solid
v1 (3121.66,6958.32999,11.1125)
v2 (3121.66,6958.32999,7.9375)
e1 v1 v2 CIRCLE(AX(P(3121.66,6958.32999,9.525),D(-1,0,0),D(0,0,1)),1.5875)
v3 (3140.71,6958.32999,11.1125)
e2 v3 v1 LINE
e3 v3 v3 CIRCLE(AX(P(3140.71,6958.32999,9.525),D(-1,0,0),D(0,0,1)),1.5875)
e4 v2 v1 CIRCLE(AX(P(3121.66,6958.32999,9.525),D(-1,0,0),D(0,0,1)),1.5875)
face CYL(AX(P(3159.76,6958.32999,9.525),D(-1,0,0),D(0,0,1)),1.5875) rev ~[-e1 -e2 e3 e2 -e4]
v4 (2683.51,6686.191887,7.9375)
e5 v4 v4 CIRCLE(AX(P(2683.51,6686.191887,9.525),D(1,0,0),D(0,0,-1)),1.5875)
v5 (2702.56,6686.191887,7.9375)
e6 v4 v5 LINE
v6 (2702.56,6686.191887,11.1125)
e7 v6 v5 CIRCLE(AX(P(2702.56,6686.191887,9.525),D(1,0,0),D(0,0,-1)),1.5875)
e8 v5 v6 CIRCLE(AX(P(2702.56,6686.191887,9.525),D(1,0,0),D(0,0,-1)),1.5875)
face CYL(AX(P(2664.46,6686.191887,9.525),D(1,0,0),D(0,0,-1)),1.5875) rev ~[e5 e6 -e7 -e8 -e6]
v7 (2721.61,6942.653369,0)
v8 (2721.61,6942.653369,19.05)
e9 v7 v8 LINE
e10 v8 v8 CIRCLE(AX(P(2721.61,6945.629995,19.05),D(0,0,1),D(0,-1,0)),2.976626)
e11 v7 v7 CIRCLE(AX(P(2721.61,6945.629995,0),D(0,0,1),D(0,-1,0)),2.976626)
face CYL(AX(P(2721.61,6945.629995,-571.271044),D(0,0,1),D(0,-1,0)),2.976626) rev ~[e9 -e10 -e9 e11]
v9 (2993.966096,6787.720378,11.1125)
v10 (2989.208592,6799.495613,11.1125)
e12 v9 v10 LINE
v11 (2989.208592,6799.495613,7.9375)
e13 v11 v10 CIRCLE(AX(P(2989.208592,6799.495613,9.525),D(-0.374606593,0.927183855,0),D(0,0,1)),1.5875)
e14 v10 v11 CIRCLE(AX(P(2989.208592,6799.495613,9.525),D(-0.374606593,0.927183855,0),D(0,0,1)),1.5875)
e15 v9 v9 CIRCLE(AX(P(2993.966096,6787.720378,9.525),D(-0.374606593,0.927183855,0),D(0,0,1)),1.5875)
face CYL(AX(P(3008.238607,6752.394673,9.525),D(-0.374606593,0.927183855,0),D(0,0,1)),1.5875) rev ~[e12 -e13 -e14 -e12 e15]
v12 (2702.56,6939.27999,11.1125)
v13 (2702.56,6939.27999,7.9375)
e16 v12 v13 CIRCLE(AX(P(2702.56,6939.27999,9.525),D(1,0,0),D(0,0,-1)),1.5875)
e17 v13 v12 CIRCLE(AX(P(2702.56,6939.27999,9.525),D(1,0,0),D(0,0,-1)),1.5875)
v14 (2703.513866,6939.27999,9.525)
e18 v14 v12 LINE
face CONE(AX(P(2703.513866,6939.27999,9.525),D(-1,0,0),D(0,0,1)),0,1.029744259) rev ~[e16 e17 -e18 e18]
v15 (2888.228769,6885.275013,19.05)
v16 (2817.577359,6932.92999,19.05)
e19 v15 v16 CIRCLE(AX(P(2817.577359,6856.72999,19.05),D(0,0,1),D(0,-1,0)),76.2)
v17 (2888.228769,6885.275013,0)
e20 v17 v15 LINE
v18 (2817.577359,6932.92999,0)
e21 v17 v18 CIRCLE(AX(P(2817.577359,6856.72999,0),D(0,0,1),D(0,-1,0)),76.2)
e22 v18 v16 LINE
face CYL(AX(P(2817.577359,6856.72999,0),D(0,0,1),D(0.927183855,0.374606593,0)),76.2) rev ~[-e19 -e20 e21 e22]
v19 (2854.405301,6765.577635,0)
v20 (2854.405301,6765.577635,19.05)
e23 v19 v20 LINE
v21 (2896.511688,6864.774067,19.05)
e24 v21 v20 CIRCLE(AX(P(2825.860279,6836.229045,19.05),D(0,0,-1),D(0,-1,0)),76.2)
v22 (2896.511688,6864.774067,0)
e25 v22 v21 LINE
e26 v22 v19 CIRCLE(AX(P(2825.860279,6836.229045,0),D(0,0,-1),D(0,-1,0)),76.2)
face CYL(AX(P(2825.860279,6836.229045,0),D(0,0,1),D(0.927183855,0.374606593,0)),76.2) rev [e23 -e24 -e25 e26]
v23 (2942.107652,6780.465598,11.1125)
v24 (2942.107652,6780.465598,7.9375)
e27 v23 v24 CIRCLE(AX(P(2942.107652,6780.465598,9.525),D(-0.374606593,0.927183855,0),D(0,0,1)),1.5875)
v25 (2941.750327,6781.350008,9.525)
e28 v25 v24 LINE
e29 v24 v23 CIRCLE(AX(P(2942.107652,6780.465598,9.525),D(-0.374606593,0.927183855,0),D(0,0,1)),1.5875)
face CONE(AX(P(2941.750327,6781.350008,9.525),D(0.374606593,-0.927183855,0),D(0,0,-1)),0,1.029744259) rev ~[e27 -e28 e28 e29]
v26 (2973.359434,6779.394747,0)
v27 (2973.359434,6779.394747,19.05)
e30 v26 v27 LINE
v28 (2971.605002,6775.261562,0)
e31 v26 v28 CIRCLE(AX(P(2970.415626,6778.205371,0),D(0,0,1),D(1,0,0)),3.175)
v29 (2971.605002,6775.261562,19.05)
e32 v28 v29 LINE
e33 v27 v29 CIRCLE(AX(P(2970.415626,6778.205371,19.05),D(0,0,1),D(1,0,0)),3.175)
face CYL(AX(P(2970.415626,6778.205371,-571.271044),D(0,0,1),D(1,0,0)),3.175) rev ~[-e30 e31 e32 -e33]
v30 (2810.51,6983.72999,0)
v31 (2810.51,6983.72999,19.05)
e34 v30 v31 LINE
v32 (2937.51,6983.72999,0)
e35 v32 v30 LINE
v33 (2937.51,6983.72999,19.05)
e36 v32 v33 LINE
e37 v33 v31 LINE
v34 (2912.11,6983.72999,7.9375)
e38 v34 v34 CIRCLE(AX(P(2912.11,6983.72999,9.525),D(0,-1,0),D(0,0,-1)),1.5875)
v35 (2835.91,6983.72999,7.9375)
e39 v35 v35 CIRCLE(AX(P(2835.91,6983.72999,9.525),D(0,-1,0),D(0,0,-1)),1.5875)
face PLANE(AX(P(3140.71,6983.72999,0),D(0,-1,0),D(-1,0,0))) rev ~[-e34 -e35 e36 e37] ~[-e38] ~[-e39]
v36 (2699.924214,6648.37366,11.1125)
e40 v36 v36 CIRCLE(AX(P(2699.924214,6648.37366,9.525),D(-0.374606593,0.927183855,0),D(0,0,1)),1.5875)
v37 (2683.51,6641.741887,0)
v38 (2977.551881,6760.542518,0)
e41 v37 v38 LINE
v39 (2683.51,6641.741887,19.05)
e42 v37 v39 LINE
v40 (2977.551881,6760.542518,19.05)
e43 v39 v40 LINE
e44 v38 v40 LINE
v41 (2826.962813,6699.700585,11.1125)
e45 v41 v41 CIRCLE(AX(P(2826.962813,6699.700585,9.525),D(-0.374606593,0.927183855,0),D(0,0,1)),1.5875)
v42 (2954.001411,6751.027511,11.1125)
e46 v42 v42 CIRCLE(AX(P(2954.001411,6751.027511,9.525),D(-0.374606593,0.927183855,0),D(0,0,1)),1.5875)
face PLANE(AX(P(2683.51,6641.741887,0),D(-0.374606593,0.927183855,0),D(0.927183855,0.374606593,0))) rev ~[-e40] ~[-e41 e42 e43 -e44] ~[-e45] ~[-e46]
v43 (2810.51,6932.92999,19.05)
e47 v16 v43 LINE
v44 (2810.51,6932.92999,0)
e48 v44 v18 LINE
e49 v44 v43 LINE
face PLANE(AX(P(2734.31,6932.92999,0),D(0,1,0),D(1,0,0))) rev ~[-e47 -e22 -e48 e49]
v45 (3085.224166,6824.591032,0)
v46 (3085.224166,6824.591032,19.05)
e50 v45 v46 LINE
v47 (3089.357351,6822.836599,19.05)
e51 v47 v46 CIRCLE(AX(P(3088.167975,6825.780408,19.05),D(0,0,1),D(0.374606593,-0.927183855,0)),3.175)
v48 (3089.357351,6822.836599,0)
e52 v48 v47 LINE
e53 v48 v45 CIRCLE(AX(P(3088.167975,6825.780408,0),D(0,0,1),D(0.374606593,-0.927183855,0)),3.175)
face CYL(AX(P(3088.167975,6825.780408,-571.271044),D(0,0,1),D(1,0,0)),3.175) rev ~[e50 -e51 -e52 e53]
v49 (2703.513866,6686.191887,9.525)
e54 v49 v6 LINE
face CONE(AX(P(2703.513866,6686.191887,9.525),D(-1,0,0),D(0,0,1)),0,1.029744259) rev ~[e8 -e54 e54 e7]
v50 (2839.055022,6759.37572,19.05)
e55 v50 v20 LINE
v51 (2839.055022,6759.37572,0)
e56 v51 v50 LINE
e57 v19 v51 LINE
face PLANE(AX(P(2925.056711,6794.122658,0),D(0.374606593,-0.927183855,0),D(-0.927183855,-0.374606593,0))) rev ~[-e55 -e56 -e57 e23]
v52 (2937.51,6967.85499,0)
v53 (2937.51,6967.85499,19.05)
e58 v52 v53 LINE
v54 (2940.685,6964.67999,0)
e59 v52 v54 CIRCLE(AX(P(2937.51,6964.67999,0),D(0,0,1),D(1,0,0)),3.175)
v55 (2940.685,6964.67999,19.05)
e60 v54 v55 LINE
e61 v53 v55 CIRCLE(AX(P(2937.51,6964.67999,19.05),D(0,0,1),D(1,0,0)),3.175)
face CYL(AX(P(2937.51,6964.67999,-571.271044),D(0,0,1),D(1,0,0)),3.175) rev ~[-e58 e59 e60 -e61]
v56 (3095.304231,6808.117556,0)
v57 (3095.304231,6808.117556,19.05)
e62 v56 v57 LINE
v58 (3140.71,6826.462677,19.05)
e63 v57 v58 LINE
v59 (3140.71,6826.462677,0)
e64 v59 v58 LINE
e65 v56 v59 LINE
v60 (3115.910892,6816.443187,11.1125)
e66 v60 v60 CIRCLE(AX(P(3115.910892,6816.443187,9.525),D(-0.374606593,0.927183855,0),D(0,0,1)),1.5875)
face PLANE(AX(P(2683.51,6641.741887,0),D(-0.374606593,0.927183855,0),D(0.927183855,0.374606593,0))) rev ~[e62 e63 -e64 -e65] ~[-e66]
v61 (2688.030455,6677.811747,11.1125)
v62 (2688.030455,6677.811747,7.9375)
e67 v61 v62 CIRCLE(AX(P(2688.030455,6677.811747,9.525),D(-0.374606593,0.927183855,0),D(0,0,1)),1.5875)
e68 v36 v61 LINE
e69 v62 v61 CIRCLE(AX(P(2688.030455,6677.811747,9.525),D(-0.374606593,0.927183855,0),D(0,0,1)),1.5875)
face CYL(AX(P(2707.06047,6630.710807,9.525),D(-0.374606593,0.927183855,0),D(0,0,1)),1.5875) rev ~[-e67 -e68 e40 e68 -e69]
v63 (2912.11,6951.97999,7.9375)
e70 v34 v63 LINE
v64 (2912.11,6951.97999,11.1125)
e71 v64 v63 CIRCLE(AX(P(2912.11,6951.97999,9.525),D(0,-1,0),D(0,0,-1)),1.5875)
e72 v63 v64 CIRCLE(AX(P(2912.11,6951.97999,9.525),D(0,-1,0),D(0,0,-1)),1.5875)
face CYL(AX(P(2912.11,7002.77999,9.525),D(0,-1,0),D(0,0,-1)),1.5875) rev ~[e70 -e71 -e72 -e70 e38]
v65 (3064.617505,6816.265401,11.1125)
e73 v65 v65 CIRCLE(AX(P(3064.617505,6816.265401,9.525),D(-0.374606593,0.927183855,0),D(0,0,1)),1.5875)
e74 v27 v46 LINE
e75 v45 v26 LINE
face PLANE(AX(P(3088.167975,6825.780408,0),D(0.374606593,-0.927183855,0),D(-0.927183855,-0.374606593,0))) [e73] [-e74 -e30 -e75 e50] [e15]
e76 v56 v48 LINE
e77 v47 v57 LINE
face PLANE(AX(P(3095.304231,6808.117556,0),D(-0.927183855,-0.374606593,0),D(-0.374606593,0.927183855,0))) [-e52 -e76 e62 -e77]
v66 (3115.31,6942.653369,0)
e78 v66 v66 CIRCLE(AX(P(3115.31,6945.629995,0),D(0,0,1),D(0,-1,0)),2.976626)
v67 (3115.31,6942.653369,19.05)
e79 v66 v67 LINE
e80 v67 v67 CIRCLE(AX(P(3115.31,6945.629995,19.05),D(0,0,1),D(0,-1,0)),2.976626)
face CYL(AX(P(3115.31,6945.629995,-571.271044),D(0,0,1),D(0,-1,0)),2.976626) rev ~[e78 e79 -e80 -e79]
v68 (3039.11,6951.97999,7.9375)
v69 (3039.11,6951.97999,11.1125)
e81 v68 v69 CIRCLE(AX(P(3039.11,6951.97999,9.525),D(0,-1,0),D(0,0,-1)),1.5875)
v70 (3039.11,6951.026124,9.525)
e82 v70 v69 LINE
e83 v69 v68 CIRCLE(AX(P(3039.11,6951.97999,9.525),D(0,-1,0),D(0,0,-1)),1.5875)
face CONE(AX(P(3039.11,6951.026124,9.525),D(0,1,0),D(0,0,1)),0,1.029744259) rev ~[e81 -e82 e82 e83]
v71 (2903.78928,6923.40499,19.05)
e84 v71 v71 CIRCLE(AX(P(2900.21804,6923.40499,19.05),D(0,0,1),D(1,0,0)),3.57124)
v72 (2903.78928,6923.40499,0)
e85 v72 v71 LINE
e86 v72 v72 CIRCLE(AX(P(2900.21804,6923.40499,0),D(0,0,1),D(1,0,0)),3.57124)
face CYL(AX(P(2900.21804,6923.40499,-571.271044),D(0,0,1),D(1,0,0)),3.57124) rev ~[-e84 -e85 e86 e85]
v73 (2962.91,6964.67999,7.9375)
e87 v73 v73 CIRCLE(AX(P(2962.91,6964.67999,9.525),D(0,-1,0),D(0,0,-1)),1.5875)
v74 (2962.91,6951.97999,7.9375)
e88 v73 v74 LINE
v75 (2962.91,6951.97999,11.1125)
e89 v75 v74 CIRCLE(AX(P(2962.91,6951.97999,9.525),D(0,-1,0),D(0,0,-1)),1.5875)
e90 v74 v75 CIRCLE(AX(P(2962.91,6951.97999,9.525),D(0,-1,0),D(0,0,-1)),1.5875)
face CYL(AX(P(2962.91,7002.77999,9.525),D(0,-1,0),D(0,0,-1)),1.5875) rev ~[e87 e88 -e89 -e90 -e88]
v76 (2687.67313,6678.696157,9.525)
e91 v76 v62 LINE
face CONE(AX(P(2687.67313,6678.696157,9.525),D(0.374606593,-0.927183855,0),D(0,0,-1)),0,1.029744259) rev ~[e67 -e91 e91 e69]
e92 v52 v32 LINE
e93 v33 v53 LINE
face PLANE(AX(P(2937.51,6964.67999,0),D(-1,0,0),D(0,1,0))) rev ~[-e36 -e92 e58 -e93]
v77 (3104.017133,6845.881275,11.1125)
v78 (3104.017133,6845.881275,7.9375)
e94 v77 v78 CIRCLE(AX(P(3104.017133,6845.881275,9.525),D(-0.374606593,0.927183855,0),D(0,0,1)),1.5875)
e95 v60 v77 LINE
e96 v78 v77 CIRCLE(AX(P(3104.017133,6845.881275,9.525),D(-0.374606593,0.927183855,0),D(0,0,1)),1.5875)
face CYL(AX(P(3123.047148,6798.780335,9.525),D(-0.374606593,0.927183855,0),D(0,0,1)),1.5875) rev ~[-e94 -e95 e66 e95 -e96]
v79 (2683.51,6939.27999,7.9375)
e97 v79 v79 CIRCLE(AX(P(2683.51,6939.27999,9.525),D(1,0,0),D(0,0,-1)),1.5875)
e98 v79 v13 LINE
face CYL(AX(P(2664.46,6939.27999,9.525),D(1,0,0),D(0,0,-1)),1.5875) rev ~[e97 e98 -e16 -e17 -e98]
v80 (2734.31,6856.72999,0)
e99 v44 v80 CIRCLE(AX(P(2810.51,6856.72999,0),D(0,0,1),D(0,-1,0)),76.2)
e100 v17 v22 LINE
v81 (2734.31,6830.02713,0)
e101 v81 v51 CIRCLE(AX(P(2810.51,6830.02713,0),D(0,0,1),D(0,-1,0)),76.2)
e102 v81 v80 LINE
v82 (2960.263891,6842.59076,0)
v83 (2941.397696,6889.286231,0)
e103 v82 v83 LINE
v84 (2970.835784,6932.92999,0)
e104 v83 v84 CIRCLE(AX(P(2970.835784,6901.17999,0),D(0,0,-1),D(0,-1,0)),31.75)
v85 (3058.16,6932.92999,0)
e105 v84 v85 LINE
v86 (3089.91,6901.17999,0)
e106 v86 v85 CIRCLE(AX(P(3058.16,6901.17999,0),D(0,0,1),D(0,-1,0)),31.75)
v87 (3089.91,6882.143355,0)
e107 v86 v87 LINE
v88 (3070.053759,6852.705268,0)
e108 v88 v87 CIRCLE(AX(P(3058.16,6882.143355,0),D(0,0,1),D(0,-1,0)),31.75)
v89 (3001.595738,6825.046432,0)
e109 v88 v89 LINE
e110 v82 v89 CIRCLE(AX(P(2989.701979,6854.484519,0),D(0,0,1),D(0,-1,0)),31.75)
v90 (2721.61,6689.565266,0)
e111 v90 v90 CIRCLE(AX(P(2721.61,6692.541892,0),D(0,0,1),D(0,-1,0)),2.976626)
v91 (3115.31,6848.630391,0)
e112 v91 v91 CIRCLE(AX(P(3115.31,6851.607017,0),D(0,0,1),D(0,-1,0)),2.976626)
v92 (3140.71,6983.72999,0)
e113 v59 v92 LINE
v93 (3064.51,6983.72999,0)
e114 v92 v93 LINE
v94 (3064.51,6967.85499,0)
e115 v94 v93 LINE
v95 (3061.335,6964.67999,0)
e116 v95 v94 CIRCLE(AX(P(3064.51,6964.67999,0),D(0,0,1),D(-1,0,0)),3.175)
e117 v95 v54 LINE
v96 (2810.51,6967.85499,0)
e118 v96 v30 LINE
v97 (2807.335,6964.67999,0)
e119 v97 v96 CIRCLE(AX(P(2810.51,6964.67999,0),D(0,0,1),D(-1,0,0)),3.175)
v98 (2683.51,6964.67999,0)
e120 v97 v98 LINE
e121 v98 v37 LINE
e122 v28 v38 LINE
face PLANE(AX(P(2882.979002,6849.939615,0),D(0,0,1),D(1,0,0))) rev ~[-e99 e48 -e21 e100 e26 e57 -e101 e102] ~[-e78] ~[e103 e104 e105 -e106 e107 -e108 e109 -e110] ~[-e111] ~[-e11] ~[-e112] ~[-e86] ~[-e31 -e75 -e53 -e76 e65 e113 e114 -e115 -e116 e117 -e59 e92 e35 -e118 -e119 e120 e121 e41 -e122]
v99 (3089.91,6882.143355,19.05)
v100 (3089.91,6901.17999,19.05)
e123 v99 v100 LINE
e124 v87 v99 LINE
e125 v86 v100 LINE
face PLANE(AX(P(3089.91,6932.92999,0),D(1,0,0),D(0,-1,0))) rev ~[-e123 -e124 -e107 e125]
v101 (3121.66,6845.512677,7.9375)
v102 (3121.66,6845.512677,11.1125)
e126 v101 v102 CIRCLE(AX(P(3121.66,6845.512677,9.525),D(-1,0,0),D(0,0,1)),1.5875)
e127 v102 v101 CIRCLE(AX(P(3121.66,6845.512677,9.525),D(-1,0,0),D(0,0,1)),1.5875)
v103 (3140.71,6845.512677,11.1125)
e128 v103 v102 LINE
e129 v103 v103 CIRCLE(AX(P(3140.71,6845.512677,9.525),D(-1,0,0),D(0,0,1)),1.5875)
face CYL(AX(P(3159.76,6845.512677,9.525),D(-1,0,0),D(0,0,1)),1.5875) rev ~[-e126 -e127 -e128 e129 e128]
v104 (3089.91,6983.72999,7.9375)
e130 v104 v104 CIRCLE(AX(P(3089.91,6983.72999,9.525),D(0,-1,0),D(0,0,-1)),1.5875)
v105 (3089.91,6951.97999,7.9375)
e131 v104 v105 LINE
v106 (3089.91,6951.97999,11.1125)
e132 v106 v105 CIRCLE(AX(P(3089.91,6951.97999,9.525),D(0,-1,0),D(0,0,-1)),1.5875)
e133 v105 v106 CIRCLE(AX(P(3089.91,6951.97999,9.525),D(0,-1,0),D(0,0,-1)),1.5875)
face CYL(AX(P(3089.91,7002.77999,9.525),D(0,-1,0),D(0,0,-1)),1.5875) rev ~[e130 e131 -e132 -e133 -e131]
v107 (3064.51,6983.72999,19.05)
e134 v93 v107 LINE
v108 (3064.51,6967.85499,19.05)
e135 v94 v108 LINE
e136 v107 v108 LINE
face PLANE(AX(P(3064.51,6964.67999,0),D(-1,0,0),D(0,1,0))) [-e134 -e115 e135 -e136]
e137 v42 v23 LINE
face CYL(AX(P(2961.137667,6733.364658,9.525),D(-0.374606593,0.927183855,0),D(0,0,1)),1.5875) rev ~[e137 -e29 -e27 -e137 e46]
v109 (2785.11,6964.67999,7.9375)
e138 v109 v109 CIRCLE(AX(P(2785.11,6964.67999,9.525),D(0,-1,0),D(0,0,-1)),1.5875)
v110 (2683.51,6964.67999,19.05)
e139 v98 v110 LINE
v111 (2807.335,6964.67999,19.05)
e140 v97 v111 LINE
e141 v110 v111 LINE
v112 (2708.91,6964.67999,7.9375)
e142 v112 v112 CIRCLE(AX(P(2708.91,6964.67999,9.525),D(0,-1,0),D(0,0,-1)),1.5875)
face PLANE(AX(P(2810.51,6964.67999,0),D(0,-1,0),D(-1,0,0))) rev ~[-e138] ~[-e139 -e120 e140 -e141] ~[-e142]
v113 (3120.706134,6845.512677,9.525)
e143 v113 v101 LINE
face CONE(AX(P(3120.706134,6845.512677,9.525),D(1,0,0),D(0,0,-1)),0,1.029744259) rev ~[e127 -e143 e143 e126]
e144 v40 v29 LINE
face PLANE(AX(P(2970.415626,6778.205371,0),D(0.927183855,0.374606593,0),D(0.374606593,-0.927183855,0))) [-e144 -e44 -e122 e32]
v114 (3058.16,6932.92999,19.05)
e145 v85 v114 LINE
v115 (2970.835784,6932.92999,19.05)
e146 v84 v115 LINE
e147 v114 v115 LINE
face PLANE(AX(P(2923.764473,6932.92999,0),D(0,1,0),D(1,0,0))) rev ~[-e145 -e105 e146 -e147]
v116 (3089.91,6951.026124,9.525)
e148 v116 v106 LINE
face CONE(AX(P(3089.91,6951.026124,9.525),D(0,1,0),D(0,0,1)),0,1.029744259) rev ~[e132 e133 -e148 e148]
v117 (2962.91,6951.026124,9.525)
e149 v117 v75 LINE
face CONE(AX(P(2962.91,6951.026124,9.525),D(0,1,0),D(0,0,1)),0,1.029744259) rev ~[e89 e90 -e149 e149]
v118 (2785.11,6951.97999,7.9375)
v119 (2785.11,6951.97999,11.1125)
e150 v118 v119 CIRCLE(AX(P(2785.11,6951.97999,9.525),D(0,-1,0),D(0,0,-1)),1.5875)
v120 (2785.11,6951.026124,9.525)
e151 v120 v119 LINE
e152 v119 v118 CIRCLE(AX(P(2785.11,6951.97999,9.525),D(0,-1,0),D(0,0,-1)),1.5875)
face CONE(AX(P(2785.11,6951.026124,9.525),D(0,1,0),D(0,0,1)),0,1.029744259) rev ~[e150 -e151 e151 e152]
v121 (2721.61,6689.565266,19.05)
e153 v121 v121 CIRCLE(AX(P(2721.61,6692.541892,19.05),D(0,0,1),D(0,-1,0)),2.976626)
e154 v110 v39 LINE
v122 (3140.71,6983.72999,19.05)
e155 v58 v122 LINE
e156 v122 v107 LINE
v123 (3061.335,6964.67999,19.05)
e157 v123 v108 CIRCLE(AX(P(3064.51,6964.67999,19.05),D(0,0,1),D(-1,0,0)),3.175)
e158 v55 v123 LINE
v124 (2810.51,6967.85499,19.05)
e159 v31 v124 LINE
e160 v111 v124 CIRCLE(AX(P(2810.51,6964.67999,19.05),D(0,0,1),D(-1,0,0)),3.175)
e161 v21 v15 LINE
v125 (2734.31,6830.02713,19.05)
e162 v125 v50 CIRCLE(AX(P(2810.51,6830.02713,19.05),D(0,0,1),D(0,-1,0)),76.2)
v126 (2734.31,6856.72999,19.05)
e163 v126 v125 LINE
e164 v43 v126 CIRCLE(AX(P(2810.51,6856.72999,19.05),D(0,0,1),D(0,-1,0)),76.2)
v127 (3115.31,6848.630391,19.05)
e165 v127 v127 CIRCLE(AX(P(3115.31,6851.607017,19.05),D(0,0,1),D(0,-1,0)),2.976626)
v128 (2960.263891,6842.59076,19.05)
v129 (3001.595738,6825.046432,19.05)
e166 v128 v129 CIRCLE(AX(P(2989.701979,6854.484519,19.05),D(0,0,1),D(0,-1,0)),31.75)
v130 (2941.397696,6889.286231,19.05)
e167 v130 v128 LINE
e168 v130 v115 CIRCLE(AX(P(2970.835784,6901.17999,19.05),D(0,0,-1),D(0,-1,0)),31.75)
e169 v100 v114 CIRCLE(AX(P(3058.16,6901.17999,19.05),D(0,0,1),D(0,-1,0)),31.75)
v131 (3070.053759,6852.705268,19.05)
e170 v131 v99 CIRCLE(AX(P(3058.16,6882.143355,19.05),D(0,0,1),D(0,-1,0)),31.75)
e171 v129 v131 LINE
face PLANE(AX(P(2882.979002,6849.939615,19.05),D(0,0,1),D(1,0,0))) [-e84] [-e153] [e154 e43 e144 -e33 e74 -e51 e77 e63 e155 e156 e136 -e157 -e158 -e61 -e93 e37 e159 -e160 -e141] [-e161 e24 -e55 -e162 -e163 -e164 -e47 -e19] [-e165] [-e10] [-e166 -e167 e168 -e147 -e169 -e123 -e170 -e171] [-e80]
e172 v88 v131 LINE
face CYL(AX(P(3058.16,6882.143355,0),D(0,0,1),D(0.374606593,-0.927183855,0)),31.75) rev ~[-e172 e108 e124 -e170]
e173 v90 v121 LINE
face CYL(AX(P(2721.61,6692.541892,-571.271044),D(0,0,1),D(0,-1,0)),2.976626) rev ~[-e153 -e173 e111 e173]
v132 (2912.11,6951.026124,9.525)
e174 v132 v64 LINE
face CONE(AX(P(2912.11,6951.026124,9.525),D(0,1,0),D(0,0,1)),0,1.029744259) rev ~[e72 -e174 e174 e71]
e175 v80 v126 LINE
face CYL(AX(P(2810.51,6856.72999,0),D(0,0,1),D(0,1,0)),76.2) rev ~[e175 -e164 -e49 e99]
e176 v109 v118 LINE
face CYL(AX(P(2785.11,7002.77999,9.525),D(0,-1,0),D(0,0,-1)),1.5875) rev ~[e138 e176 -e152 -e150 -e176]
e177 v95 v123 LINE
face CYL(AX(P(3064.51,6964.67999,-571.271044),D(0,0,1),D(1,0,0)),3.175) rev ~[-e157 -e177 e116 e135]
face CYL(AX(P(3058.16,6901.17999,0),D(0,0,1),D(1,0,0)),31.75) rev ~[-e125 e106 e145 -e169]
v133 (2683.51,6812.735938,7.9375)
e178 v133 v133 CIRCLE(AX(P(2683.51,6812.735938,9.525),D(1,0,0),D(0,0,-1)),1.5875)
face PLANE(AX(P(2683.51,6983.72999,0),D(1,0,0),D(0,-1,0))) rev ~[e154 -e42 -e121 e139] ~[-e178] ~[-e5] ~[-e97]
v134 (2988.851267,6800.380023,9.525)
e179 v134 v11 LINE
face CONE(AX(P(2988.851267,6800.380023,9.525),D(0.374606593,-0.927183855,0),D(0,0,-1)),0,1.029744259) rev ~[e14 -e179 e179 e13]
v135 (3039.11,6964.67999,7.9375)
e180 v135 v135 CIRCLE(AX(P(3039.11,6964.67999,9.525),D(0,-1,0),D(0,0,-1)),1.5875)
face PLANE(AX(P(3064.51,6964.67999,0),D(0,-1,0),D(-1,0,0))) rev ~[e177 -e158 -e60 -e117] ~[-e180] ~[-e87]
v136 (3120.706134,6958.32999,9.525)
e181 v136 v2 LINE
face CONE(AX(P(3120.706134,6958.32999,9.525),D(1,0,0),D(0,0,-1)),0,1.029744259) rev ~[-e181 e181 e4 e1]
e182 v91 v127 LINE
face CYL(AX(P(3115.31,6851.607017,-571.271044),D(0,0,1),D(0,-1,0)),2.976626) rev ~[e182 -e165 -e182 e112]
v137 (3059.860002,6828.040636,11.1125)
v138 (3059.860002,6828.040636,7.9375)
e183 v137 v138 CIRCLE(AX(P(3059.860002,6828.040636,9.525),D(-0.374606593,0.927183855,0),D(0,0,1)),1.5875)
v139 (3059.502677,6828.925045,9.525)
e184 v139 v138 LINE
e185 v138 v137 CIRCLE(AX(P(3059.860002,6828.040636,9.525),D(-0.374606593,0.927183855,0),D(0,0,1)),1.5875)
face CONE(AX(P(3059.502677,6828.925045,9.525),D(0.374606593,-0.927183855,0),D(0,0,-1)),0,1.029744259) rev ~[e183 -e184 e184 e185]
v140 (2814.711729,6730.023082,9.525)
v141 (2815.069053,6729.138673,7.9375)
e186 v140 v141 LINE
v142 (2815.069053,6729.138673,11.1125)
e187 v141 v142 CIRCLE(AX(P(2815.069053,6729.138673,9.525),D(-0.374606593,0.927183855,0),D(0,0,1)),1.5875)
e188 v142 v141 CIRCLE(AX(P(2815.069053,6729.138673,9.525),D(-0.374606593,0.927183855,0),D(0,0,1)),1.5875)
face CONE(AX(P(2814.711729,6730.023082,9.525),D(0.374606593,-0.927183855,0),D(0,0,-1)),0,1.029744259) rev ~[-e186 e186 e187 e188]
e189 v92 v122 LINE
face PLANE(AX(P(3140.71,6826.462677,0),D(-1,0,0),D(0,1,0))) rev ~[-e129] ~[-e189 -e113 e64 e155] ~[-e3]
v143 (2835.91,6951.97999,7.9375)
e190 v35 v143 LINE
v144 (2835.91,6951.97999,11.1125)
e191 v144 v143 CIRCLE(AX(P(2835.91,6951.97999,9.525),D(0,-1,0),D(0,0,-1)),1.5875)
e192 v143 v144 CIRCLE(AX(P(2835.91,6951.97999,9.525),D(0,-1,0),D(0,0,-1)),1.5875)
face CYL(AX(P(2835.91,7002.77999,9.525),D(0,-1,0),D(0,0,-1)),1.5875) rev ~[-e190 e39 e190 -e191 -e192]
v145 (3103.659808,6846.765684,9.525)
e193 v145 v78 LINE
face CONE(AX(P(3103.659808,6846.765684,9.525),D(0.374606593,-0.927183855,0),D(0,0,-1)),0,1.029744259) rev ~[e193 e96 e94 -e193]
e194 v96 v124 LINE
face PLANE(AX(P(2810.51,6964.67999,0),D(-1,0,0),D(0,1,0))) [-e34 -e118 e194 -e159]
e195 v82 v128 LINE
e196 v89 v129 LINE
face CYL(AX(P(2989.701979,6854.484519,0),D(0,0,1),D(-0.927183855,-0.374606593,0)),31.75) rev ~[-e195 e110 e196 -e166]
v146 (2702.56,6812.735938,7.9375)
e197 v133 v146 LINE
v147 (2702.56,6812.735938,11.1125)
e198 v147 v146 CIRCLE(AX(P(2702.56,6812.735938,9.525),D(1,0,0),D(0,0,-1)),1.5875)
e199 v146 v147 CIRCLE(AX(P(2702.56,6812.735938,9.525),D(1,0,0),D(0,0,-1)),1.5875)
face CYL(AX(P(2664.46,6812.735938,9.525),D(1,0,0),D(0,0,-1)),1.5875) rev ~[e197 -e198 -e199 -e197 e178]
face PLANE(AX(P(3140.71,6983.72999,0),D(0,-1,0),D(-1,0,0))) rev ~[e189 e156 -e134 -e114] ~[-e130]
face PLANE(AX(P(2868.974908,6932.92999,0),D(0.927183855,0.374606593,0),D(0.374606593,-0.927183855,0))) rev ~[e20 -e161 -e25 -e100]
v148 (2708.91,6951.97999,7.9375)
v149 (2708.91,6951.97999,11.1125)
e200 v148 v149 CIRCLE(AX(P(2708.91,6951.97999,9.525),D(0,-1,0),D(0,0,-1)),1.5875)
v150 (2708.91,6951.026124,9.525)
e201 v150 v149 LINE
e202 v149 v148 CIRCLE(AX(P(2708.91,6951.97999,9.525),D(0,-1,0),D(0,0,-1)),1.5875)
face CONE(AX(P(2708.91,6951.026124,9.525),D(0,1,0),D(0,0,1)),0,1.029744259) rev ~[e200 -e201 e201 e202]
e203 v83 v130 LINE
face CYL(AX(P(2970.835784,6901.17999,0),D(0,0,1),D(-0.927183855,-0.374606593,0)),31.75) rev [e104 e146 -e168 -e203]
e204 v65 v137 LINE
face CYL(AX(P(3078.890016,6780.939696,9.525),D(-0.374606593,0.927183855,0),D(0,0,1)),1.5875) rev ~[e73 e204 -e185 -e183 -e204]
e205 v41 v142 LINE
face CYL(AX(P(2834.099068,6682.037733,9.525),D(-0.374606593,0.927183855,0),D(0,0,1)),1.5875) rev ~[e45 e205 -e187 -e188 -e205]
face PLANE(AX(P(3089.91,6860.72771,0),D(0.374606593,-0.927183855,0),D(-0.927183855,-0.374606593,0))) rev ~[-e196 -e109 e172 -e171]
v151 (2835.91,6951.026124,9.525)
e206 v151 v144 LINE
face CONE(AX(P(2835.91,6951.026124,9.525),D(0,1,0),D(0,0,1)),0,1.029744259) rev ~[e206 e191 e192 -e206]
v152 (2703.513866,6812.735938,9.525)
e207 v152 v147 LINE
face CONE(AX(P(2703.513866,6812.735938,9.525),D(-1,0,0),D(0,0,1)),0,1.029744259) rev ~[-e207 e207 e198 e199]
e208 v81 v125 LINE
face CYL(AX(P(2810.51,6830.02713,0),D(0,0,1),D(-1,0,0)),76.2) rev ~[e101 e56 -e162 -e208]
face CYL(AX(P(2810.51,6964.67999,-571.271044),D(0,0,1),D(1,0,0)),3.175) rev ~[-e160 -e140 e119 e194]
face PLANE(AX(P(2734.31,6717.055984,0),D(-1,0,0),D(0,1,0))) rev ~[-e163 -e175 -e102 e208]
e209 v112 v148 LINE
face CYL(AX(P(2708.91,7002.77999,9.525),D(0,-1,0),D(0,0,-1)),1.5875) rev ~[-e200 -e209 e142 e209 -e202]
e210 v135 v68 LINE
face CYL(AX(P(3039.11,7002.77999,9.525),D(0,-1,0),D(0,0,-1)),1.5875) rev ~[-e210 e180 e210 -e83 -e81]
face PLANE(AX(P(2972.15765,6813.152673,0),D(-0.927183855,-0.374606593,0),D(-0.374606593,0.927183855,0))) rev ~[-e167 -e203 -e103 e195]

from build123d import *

# Parameters (mm, degrees)
BOSS_EXTRUDE1_DEPTH              = 19.05
CUT_EXTRUDE2_DEPTH               = 7658.473916494
FILLET1_R                        = 76.2
FILLET2_R                        = 31.75
SKETCH2_W                        = 127
SKETCH2_H                        = 19.05
CUT_EXTRUDE1_DEPTH               = 7658.473916494
F_1_4_0_25_DIAMETER_HOLE1_D      = 6.35
F_15_64_0_23438_DIAMETER_HOLE1_D = 5.953252
F_1_4_CLEARANCE_HOLE1_D          = 7.14248
HOLE1_D                          = 3.175
HOLE1_DEPTH                      = 50.8
HOLE1_CSINK_D                    = 10.16
HOLE1_CSINK_ANGLE                = 82
HOLE1_TIP                        = 0.953866233
HOLE2_D                          = 3.175
HOLE2_DEPTH                      = 38.1
HOLE2_CSINK_D                    = 10.16
HOLE2_CSINK_ANGLE                = 82
HOLE2_TIP                        = 0.953866233
HOLE3_D                          = 3.175
HOLE3_DEPTH                      = 50.8
HOLE3_CSINK_D                    = 10.16
HOLE3_CSINK_ANGLE                = 82
HOLE3_TIP                        = 0.953866233
HOLE4_D                          = 3.175
HOLE4_DEPTH                      = 38.1
HOLE4_CSINK_D                    = 10.16
HOLE4_CSINK_ANGLE                = 82
HOLE4_TIP                        = 0.953866233


with BuildPart() as part:
    # Sketch1 → Boss-Extrude1 (new body)
    with BuildSketch(Plane.XY):
        Polygon((3140.71, 6983.72999014), (2683.51, 6983.72999014), (2683.51, 6641.741886848), (3140.71, 6826.4626773), align=None)
    extrude(amount=BOSS_EXTRUDE1_DEPTH)

    # Sketch6 → Cut-Extrude2 (cut, through all)
    with BuildSketch(Plane(origin=(0, 0, 0), x_dir=(-1, 0, 0), z_dir=(0, 0, -1))):
        Polygon((-2923.76447292, 6932.92999014), (-3089.91, 6932.92999014), (-3089.91, 6860.727709955), (-2972.15765047, 6813.152672592), align=None)
        Polygon((-2925.056710658, 6794.122657646), (-2734.31, 6717.055984048), (-2734.31, 6932.92999014), (-2868.974907992, 6932.92999014), align=None)
    extrude(amount=-CUT_EXTRUDE2_DEPTH, mode=Mode.SUBTRACT)

    # Fillet1
    fillet1_edges = [part.edges().sort_by_distance(p)[0] for p in [
        (2925.056710658, 6794.122657646, 9.525),
        (2868.974907992, 6932.92999014, 9.525),
        (2734.31, 6932.92999014, 9.525),
        (2734.31, 6717.055984048, 9.525),
    ]]
    fillet(fillet1_edges, radius=FILLET1_R)

    # Fillet2
    fillet2_edges = [part.edges().sort_by_distance(p)[0] for p in [
        (2972.15765047, 6813.152672592, 9.525),
        (3089.91, 6860.727709955, 9.525),
        (3089.91, 6932.92999014, 9.525),
        (2923.76447292, 6932.92999014, 9.525),
    ]]
    fillet(fillet2_edges, radius=FILLET2_R)

    # Sketch2 → Cut-Extrude1 (cut, through all)
    with BuildSketch(Plane(origin=(0, 0, 0), x_dir=(-1, 0, 0), z_dir=(0, 0, -1))):
        with Locations((-2747.01, 6974.20499014)):
            Rectangle(SKETCH2_W, SKETCH2_H)
        with Locations((-3001.01, 6974.20499014)):
            Rectangle(SKETCH2_W, SKETCH2_H)
        Polygon((-2977.551881268, 6760.542518374), (-3095.304230798, 6808.117555738), (-3088.167975193, 6825.780408168), (-2970.415625663, 6778.205370804), align=None)
    extrude(amount=-CUT_EXTRUDE1_DEPTH, mode=Mode.SUBTRACT)

    # 1/4 (0.25) Diameter Hole1 (through all)
    with Locations(Plane(origin=(0, 0, 0), x_dir=(-1, 0, 0), z_dir=(0, 0, -1))):
        with Locations((-3088.167975193, 6825.780408168), (-2970.415625663, 6778.205370804), (-2937.51, 6964.67999014), (-3064.51, 6964.67999014), (-2810.51, 6964.67999014)):
            Hole(F_1_4_0_25_DIAMETER_HOLE1_D / 2)

    # 15/64 (0.23438) Diameter Hole1 (through all)
    with Locations(Plane.YX):
        with Locations((6692.541891629, 2721.610000001), (6945.629994921, 2721.610000001), (6945.629994921, 3115.310000001), (6851.60701674, 3115.310000001)):
            Hole(F_15_64_0_23438_DIAMETER_HOLE1_D / 2)

    # 1/4 Clearance Hole1 (through all)
    with Locations(Plane(origin=(0, 0, 0), x_dir=(-1, 0, 0), z_dir=(0, 0, -1))):
        with Locations((-2900.218040257, 6923.40499014)):
            Hole(F_1_4_CLEARANCE_HOLE1_D / 2)

    # Hole1
    with Locations(Plane(origin=(0, 7002.77999014, 247.523), x_dir=(0, 0, 1), z_dir=(0, 1, 0))):
        with Locations((0, 2696.21), (-237.998, 3089.91), (-237.998, 3039.11), (-237.998, 2962.91), (-237.998, 2912.11), (-237.998, 2835.91), (-237.998, 2785.11), (-237.998, 2708.91), (237.998, 2708.91), (237.998, 2785.11), (237.998, 2835.91), (237.998, 2912.11), (237.998, 2962.91), (237.998, 3039.11), (237.998, 3089.91), (0, 3051.81), (0, 2950.21), (0, 2797.81)):
            CounterSinkHole(HOLE1_D / 2, HOLE1_CSINK_D / 2, depth=HOLE1_DEPTH, counter_sink_angle=HOLE1_CSINK_ANGLE)
            with Locations((0, 0, -(HOLE1_DEPTH + HOLE1_TIP / 2))):  # 118° drill point
                Cone(0, HOLE1_D / 2, HOLE1_TIP, mode=Mode.SUBTRACT)

    # Hole2
    with Locations(Plane(origin=(3159.76, -4.781e-06, 247.523), x_dir=(0, 0, -1), z_dir=(1, 0, 0))):
        with Locations((-118.999, 6993.254994921), (237.998, 6993.254994921), (237.998, 6958.329994921), (237.998, 6845.512682081), (-237.998, 6993.254994921), (-237.998, 6958.329994921), (-237.998, 6845.512682081), (118.999, 6993.254994921)):
            CounterSinkHole(HOLE2_D / 2, HOLE2_CSINK_D / 2, depth=HOLE2_DEPTH, counter_sink_angle=HOLE2_CSINK_ANGLE)
            with Locations((0, 0, -(HOLE2_DEPTH + HOLE2_TIP / 2))):  # 118° drill point
                Cone(0, HOLE2_D / 2, HOLE2_TIP, mode=Mode.SUBTRACT)

    # Hole3
    with Locations(Plane(origin=(-1923.157317923, 4759.981389861, 247.523), x_dir=(0, 0, -1), z_dir=(0.37460659341595665, -0.9271838545667693, 0))):
        with Locations((237.998, 5442.50683469), (-237.998, 5442.50683469), (-237.998, 5394.88183469), (-237.998, 5318.68183469), (0, 5407.58183469), (0, 5305.98183469), (-237.998, 5267.88183469), (-237.998, 5130.866292514), (-237.998, 4993.850750338), (237.998, 4993.850750338), (237.998, 5130.866292514), (237.998, 5267.88183469), (237.998, 5318.68183469), (237.998, 5394.88183469)):
            CounterSinkHole(HOLE3_D / 2, HOLE3_CSINK_D / 2, depth=HOLE3_DEPTH, counter_sink_angle=HOLE3_CSINK_ANGLE)
            with Locations((0, 0, -(HOLE3_DEPTH + HOLE3_TIP / 2))):  # 118° drill point
                Cone(0, HOLE3_D / 2, HOLE3_TIP, mode=Mode.SUBTRACT)

    # Hole4
    with Locations(Plane(origin=(2664.46, -4.781e-06, 247.523), x_dir=(0, 0, 1), z_dir=(-1, 0, 0))):
        with Locations((-237.998, 6686.191891629), (237.998, 6686.191891629), (257.048, 6993.254994921), (218.948, 6993.254994921), (19.05, 6993.254994921), (237.998, 6939.279994921), (237.998, 6812.735943275), (-237.998, 6812.735943275), (-237.998, 6939.279994921), (-19.05, 6993.254994921), (-218.948, 6993.254994921), (-257.048, 6993.254994921)):
            CounterSinkHole(HOLE4_D / 2, HOLE4_CSINK_D / 2, depth=HOLE4_DEPTH, counter_sink_angle=HOLE4_CSINK_ANGLE)
            with Locations((0, 0, -(HOLE4_DEPTH + HOLE4_TIP / 2))):  # 118° drill point
                Cone(0, HOLE4_D / 2, HOLE4_TIP, mode=Mode.SUBTRACT)


solid = part.part
